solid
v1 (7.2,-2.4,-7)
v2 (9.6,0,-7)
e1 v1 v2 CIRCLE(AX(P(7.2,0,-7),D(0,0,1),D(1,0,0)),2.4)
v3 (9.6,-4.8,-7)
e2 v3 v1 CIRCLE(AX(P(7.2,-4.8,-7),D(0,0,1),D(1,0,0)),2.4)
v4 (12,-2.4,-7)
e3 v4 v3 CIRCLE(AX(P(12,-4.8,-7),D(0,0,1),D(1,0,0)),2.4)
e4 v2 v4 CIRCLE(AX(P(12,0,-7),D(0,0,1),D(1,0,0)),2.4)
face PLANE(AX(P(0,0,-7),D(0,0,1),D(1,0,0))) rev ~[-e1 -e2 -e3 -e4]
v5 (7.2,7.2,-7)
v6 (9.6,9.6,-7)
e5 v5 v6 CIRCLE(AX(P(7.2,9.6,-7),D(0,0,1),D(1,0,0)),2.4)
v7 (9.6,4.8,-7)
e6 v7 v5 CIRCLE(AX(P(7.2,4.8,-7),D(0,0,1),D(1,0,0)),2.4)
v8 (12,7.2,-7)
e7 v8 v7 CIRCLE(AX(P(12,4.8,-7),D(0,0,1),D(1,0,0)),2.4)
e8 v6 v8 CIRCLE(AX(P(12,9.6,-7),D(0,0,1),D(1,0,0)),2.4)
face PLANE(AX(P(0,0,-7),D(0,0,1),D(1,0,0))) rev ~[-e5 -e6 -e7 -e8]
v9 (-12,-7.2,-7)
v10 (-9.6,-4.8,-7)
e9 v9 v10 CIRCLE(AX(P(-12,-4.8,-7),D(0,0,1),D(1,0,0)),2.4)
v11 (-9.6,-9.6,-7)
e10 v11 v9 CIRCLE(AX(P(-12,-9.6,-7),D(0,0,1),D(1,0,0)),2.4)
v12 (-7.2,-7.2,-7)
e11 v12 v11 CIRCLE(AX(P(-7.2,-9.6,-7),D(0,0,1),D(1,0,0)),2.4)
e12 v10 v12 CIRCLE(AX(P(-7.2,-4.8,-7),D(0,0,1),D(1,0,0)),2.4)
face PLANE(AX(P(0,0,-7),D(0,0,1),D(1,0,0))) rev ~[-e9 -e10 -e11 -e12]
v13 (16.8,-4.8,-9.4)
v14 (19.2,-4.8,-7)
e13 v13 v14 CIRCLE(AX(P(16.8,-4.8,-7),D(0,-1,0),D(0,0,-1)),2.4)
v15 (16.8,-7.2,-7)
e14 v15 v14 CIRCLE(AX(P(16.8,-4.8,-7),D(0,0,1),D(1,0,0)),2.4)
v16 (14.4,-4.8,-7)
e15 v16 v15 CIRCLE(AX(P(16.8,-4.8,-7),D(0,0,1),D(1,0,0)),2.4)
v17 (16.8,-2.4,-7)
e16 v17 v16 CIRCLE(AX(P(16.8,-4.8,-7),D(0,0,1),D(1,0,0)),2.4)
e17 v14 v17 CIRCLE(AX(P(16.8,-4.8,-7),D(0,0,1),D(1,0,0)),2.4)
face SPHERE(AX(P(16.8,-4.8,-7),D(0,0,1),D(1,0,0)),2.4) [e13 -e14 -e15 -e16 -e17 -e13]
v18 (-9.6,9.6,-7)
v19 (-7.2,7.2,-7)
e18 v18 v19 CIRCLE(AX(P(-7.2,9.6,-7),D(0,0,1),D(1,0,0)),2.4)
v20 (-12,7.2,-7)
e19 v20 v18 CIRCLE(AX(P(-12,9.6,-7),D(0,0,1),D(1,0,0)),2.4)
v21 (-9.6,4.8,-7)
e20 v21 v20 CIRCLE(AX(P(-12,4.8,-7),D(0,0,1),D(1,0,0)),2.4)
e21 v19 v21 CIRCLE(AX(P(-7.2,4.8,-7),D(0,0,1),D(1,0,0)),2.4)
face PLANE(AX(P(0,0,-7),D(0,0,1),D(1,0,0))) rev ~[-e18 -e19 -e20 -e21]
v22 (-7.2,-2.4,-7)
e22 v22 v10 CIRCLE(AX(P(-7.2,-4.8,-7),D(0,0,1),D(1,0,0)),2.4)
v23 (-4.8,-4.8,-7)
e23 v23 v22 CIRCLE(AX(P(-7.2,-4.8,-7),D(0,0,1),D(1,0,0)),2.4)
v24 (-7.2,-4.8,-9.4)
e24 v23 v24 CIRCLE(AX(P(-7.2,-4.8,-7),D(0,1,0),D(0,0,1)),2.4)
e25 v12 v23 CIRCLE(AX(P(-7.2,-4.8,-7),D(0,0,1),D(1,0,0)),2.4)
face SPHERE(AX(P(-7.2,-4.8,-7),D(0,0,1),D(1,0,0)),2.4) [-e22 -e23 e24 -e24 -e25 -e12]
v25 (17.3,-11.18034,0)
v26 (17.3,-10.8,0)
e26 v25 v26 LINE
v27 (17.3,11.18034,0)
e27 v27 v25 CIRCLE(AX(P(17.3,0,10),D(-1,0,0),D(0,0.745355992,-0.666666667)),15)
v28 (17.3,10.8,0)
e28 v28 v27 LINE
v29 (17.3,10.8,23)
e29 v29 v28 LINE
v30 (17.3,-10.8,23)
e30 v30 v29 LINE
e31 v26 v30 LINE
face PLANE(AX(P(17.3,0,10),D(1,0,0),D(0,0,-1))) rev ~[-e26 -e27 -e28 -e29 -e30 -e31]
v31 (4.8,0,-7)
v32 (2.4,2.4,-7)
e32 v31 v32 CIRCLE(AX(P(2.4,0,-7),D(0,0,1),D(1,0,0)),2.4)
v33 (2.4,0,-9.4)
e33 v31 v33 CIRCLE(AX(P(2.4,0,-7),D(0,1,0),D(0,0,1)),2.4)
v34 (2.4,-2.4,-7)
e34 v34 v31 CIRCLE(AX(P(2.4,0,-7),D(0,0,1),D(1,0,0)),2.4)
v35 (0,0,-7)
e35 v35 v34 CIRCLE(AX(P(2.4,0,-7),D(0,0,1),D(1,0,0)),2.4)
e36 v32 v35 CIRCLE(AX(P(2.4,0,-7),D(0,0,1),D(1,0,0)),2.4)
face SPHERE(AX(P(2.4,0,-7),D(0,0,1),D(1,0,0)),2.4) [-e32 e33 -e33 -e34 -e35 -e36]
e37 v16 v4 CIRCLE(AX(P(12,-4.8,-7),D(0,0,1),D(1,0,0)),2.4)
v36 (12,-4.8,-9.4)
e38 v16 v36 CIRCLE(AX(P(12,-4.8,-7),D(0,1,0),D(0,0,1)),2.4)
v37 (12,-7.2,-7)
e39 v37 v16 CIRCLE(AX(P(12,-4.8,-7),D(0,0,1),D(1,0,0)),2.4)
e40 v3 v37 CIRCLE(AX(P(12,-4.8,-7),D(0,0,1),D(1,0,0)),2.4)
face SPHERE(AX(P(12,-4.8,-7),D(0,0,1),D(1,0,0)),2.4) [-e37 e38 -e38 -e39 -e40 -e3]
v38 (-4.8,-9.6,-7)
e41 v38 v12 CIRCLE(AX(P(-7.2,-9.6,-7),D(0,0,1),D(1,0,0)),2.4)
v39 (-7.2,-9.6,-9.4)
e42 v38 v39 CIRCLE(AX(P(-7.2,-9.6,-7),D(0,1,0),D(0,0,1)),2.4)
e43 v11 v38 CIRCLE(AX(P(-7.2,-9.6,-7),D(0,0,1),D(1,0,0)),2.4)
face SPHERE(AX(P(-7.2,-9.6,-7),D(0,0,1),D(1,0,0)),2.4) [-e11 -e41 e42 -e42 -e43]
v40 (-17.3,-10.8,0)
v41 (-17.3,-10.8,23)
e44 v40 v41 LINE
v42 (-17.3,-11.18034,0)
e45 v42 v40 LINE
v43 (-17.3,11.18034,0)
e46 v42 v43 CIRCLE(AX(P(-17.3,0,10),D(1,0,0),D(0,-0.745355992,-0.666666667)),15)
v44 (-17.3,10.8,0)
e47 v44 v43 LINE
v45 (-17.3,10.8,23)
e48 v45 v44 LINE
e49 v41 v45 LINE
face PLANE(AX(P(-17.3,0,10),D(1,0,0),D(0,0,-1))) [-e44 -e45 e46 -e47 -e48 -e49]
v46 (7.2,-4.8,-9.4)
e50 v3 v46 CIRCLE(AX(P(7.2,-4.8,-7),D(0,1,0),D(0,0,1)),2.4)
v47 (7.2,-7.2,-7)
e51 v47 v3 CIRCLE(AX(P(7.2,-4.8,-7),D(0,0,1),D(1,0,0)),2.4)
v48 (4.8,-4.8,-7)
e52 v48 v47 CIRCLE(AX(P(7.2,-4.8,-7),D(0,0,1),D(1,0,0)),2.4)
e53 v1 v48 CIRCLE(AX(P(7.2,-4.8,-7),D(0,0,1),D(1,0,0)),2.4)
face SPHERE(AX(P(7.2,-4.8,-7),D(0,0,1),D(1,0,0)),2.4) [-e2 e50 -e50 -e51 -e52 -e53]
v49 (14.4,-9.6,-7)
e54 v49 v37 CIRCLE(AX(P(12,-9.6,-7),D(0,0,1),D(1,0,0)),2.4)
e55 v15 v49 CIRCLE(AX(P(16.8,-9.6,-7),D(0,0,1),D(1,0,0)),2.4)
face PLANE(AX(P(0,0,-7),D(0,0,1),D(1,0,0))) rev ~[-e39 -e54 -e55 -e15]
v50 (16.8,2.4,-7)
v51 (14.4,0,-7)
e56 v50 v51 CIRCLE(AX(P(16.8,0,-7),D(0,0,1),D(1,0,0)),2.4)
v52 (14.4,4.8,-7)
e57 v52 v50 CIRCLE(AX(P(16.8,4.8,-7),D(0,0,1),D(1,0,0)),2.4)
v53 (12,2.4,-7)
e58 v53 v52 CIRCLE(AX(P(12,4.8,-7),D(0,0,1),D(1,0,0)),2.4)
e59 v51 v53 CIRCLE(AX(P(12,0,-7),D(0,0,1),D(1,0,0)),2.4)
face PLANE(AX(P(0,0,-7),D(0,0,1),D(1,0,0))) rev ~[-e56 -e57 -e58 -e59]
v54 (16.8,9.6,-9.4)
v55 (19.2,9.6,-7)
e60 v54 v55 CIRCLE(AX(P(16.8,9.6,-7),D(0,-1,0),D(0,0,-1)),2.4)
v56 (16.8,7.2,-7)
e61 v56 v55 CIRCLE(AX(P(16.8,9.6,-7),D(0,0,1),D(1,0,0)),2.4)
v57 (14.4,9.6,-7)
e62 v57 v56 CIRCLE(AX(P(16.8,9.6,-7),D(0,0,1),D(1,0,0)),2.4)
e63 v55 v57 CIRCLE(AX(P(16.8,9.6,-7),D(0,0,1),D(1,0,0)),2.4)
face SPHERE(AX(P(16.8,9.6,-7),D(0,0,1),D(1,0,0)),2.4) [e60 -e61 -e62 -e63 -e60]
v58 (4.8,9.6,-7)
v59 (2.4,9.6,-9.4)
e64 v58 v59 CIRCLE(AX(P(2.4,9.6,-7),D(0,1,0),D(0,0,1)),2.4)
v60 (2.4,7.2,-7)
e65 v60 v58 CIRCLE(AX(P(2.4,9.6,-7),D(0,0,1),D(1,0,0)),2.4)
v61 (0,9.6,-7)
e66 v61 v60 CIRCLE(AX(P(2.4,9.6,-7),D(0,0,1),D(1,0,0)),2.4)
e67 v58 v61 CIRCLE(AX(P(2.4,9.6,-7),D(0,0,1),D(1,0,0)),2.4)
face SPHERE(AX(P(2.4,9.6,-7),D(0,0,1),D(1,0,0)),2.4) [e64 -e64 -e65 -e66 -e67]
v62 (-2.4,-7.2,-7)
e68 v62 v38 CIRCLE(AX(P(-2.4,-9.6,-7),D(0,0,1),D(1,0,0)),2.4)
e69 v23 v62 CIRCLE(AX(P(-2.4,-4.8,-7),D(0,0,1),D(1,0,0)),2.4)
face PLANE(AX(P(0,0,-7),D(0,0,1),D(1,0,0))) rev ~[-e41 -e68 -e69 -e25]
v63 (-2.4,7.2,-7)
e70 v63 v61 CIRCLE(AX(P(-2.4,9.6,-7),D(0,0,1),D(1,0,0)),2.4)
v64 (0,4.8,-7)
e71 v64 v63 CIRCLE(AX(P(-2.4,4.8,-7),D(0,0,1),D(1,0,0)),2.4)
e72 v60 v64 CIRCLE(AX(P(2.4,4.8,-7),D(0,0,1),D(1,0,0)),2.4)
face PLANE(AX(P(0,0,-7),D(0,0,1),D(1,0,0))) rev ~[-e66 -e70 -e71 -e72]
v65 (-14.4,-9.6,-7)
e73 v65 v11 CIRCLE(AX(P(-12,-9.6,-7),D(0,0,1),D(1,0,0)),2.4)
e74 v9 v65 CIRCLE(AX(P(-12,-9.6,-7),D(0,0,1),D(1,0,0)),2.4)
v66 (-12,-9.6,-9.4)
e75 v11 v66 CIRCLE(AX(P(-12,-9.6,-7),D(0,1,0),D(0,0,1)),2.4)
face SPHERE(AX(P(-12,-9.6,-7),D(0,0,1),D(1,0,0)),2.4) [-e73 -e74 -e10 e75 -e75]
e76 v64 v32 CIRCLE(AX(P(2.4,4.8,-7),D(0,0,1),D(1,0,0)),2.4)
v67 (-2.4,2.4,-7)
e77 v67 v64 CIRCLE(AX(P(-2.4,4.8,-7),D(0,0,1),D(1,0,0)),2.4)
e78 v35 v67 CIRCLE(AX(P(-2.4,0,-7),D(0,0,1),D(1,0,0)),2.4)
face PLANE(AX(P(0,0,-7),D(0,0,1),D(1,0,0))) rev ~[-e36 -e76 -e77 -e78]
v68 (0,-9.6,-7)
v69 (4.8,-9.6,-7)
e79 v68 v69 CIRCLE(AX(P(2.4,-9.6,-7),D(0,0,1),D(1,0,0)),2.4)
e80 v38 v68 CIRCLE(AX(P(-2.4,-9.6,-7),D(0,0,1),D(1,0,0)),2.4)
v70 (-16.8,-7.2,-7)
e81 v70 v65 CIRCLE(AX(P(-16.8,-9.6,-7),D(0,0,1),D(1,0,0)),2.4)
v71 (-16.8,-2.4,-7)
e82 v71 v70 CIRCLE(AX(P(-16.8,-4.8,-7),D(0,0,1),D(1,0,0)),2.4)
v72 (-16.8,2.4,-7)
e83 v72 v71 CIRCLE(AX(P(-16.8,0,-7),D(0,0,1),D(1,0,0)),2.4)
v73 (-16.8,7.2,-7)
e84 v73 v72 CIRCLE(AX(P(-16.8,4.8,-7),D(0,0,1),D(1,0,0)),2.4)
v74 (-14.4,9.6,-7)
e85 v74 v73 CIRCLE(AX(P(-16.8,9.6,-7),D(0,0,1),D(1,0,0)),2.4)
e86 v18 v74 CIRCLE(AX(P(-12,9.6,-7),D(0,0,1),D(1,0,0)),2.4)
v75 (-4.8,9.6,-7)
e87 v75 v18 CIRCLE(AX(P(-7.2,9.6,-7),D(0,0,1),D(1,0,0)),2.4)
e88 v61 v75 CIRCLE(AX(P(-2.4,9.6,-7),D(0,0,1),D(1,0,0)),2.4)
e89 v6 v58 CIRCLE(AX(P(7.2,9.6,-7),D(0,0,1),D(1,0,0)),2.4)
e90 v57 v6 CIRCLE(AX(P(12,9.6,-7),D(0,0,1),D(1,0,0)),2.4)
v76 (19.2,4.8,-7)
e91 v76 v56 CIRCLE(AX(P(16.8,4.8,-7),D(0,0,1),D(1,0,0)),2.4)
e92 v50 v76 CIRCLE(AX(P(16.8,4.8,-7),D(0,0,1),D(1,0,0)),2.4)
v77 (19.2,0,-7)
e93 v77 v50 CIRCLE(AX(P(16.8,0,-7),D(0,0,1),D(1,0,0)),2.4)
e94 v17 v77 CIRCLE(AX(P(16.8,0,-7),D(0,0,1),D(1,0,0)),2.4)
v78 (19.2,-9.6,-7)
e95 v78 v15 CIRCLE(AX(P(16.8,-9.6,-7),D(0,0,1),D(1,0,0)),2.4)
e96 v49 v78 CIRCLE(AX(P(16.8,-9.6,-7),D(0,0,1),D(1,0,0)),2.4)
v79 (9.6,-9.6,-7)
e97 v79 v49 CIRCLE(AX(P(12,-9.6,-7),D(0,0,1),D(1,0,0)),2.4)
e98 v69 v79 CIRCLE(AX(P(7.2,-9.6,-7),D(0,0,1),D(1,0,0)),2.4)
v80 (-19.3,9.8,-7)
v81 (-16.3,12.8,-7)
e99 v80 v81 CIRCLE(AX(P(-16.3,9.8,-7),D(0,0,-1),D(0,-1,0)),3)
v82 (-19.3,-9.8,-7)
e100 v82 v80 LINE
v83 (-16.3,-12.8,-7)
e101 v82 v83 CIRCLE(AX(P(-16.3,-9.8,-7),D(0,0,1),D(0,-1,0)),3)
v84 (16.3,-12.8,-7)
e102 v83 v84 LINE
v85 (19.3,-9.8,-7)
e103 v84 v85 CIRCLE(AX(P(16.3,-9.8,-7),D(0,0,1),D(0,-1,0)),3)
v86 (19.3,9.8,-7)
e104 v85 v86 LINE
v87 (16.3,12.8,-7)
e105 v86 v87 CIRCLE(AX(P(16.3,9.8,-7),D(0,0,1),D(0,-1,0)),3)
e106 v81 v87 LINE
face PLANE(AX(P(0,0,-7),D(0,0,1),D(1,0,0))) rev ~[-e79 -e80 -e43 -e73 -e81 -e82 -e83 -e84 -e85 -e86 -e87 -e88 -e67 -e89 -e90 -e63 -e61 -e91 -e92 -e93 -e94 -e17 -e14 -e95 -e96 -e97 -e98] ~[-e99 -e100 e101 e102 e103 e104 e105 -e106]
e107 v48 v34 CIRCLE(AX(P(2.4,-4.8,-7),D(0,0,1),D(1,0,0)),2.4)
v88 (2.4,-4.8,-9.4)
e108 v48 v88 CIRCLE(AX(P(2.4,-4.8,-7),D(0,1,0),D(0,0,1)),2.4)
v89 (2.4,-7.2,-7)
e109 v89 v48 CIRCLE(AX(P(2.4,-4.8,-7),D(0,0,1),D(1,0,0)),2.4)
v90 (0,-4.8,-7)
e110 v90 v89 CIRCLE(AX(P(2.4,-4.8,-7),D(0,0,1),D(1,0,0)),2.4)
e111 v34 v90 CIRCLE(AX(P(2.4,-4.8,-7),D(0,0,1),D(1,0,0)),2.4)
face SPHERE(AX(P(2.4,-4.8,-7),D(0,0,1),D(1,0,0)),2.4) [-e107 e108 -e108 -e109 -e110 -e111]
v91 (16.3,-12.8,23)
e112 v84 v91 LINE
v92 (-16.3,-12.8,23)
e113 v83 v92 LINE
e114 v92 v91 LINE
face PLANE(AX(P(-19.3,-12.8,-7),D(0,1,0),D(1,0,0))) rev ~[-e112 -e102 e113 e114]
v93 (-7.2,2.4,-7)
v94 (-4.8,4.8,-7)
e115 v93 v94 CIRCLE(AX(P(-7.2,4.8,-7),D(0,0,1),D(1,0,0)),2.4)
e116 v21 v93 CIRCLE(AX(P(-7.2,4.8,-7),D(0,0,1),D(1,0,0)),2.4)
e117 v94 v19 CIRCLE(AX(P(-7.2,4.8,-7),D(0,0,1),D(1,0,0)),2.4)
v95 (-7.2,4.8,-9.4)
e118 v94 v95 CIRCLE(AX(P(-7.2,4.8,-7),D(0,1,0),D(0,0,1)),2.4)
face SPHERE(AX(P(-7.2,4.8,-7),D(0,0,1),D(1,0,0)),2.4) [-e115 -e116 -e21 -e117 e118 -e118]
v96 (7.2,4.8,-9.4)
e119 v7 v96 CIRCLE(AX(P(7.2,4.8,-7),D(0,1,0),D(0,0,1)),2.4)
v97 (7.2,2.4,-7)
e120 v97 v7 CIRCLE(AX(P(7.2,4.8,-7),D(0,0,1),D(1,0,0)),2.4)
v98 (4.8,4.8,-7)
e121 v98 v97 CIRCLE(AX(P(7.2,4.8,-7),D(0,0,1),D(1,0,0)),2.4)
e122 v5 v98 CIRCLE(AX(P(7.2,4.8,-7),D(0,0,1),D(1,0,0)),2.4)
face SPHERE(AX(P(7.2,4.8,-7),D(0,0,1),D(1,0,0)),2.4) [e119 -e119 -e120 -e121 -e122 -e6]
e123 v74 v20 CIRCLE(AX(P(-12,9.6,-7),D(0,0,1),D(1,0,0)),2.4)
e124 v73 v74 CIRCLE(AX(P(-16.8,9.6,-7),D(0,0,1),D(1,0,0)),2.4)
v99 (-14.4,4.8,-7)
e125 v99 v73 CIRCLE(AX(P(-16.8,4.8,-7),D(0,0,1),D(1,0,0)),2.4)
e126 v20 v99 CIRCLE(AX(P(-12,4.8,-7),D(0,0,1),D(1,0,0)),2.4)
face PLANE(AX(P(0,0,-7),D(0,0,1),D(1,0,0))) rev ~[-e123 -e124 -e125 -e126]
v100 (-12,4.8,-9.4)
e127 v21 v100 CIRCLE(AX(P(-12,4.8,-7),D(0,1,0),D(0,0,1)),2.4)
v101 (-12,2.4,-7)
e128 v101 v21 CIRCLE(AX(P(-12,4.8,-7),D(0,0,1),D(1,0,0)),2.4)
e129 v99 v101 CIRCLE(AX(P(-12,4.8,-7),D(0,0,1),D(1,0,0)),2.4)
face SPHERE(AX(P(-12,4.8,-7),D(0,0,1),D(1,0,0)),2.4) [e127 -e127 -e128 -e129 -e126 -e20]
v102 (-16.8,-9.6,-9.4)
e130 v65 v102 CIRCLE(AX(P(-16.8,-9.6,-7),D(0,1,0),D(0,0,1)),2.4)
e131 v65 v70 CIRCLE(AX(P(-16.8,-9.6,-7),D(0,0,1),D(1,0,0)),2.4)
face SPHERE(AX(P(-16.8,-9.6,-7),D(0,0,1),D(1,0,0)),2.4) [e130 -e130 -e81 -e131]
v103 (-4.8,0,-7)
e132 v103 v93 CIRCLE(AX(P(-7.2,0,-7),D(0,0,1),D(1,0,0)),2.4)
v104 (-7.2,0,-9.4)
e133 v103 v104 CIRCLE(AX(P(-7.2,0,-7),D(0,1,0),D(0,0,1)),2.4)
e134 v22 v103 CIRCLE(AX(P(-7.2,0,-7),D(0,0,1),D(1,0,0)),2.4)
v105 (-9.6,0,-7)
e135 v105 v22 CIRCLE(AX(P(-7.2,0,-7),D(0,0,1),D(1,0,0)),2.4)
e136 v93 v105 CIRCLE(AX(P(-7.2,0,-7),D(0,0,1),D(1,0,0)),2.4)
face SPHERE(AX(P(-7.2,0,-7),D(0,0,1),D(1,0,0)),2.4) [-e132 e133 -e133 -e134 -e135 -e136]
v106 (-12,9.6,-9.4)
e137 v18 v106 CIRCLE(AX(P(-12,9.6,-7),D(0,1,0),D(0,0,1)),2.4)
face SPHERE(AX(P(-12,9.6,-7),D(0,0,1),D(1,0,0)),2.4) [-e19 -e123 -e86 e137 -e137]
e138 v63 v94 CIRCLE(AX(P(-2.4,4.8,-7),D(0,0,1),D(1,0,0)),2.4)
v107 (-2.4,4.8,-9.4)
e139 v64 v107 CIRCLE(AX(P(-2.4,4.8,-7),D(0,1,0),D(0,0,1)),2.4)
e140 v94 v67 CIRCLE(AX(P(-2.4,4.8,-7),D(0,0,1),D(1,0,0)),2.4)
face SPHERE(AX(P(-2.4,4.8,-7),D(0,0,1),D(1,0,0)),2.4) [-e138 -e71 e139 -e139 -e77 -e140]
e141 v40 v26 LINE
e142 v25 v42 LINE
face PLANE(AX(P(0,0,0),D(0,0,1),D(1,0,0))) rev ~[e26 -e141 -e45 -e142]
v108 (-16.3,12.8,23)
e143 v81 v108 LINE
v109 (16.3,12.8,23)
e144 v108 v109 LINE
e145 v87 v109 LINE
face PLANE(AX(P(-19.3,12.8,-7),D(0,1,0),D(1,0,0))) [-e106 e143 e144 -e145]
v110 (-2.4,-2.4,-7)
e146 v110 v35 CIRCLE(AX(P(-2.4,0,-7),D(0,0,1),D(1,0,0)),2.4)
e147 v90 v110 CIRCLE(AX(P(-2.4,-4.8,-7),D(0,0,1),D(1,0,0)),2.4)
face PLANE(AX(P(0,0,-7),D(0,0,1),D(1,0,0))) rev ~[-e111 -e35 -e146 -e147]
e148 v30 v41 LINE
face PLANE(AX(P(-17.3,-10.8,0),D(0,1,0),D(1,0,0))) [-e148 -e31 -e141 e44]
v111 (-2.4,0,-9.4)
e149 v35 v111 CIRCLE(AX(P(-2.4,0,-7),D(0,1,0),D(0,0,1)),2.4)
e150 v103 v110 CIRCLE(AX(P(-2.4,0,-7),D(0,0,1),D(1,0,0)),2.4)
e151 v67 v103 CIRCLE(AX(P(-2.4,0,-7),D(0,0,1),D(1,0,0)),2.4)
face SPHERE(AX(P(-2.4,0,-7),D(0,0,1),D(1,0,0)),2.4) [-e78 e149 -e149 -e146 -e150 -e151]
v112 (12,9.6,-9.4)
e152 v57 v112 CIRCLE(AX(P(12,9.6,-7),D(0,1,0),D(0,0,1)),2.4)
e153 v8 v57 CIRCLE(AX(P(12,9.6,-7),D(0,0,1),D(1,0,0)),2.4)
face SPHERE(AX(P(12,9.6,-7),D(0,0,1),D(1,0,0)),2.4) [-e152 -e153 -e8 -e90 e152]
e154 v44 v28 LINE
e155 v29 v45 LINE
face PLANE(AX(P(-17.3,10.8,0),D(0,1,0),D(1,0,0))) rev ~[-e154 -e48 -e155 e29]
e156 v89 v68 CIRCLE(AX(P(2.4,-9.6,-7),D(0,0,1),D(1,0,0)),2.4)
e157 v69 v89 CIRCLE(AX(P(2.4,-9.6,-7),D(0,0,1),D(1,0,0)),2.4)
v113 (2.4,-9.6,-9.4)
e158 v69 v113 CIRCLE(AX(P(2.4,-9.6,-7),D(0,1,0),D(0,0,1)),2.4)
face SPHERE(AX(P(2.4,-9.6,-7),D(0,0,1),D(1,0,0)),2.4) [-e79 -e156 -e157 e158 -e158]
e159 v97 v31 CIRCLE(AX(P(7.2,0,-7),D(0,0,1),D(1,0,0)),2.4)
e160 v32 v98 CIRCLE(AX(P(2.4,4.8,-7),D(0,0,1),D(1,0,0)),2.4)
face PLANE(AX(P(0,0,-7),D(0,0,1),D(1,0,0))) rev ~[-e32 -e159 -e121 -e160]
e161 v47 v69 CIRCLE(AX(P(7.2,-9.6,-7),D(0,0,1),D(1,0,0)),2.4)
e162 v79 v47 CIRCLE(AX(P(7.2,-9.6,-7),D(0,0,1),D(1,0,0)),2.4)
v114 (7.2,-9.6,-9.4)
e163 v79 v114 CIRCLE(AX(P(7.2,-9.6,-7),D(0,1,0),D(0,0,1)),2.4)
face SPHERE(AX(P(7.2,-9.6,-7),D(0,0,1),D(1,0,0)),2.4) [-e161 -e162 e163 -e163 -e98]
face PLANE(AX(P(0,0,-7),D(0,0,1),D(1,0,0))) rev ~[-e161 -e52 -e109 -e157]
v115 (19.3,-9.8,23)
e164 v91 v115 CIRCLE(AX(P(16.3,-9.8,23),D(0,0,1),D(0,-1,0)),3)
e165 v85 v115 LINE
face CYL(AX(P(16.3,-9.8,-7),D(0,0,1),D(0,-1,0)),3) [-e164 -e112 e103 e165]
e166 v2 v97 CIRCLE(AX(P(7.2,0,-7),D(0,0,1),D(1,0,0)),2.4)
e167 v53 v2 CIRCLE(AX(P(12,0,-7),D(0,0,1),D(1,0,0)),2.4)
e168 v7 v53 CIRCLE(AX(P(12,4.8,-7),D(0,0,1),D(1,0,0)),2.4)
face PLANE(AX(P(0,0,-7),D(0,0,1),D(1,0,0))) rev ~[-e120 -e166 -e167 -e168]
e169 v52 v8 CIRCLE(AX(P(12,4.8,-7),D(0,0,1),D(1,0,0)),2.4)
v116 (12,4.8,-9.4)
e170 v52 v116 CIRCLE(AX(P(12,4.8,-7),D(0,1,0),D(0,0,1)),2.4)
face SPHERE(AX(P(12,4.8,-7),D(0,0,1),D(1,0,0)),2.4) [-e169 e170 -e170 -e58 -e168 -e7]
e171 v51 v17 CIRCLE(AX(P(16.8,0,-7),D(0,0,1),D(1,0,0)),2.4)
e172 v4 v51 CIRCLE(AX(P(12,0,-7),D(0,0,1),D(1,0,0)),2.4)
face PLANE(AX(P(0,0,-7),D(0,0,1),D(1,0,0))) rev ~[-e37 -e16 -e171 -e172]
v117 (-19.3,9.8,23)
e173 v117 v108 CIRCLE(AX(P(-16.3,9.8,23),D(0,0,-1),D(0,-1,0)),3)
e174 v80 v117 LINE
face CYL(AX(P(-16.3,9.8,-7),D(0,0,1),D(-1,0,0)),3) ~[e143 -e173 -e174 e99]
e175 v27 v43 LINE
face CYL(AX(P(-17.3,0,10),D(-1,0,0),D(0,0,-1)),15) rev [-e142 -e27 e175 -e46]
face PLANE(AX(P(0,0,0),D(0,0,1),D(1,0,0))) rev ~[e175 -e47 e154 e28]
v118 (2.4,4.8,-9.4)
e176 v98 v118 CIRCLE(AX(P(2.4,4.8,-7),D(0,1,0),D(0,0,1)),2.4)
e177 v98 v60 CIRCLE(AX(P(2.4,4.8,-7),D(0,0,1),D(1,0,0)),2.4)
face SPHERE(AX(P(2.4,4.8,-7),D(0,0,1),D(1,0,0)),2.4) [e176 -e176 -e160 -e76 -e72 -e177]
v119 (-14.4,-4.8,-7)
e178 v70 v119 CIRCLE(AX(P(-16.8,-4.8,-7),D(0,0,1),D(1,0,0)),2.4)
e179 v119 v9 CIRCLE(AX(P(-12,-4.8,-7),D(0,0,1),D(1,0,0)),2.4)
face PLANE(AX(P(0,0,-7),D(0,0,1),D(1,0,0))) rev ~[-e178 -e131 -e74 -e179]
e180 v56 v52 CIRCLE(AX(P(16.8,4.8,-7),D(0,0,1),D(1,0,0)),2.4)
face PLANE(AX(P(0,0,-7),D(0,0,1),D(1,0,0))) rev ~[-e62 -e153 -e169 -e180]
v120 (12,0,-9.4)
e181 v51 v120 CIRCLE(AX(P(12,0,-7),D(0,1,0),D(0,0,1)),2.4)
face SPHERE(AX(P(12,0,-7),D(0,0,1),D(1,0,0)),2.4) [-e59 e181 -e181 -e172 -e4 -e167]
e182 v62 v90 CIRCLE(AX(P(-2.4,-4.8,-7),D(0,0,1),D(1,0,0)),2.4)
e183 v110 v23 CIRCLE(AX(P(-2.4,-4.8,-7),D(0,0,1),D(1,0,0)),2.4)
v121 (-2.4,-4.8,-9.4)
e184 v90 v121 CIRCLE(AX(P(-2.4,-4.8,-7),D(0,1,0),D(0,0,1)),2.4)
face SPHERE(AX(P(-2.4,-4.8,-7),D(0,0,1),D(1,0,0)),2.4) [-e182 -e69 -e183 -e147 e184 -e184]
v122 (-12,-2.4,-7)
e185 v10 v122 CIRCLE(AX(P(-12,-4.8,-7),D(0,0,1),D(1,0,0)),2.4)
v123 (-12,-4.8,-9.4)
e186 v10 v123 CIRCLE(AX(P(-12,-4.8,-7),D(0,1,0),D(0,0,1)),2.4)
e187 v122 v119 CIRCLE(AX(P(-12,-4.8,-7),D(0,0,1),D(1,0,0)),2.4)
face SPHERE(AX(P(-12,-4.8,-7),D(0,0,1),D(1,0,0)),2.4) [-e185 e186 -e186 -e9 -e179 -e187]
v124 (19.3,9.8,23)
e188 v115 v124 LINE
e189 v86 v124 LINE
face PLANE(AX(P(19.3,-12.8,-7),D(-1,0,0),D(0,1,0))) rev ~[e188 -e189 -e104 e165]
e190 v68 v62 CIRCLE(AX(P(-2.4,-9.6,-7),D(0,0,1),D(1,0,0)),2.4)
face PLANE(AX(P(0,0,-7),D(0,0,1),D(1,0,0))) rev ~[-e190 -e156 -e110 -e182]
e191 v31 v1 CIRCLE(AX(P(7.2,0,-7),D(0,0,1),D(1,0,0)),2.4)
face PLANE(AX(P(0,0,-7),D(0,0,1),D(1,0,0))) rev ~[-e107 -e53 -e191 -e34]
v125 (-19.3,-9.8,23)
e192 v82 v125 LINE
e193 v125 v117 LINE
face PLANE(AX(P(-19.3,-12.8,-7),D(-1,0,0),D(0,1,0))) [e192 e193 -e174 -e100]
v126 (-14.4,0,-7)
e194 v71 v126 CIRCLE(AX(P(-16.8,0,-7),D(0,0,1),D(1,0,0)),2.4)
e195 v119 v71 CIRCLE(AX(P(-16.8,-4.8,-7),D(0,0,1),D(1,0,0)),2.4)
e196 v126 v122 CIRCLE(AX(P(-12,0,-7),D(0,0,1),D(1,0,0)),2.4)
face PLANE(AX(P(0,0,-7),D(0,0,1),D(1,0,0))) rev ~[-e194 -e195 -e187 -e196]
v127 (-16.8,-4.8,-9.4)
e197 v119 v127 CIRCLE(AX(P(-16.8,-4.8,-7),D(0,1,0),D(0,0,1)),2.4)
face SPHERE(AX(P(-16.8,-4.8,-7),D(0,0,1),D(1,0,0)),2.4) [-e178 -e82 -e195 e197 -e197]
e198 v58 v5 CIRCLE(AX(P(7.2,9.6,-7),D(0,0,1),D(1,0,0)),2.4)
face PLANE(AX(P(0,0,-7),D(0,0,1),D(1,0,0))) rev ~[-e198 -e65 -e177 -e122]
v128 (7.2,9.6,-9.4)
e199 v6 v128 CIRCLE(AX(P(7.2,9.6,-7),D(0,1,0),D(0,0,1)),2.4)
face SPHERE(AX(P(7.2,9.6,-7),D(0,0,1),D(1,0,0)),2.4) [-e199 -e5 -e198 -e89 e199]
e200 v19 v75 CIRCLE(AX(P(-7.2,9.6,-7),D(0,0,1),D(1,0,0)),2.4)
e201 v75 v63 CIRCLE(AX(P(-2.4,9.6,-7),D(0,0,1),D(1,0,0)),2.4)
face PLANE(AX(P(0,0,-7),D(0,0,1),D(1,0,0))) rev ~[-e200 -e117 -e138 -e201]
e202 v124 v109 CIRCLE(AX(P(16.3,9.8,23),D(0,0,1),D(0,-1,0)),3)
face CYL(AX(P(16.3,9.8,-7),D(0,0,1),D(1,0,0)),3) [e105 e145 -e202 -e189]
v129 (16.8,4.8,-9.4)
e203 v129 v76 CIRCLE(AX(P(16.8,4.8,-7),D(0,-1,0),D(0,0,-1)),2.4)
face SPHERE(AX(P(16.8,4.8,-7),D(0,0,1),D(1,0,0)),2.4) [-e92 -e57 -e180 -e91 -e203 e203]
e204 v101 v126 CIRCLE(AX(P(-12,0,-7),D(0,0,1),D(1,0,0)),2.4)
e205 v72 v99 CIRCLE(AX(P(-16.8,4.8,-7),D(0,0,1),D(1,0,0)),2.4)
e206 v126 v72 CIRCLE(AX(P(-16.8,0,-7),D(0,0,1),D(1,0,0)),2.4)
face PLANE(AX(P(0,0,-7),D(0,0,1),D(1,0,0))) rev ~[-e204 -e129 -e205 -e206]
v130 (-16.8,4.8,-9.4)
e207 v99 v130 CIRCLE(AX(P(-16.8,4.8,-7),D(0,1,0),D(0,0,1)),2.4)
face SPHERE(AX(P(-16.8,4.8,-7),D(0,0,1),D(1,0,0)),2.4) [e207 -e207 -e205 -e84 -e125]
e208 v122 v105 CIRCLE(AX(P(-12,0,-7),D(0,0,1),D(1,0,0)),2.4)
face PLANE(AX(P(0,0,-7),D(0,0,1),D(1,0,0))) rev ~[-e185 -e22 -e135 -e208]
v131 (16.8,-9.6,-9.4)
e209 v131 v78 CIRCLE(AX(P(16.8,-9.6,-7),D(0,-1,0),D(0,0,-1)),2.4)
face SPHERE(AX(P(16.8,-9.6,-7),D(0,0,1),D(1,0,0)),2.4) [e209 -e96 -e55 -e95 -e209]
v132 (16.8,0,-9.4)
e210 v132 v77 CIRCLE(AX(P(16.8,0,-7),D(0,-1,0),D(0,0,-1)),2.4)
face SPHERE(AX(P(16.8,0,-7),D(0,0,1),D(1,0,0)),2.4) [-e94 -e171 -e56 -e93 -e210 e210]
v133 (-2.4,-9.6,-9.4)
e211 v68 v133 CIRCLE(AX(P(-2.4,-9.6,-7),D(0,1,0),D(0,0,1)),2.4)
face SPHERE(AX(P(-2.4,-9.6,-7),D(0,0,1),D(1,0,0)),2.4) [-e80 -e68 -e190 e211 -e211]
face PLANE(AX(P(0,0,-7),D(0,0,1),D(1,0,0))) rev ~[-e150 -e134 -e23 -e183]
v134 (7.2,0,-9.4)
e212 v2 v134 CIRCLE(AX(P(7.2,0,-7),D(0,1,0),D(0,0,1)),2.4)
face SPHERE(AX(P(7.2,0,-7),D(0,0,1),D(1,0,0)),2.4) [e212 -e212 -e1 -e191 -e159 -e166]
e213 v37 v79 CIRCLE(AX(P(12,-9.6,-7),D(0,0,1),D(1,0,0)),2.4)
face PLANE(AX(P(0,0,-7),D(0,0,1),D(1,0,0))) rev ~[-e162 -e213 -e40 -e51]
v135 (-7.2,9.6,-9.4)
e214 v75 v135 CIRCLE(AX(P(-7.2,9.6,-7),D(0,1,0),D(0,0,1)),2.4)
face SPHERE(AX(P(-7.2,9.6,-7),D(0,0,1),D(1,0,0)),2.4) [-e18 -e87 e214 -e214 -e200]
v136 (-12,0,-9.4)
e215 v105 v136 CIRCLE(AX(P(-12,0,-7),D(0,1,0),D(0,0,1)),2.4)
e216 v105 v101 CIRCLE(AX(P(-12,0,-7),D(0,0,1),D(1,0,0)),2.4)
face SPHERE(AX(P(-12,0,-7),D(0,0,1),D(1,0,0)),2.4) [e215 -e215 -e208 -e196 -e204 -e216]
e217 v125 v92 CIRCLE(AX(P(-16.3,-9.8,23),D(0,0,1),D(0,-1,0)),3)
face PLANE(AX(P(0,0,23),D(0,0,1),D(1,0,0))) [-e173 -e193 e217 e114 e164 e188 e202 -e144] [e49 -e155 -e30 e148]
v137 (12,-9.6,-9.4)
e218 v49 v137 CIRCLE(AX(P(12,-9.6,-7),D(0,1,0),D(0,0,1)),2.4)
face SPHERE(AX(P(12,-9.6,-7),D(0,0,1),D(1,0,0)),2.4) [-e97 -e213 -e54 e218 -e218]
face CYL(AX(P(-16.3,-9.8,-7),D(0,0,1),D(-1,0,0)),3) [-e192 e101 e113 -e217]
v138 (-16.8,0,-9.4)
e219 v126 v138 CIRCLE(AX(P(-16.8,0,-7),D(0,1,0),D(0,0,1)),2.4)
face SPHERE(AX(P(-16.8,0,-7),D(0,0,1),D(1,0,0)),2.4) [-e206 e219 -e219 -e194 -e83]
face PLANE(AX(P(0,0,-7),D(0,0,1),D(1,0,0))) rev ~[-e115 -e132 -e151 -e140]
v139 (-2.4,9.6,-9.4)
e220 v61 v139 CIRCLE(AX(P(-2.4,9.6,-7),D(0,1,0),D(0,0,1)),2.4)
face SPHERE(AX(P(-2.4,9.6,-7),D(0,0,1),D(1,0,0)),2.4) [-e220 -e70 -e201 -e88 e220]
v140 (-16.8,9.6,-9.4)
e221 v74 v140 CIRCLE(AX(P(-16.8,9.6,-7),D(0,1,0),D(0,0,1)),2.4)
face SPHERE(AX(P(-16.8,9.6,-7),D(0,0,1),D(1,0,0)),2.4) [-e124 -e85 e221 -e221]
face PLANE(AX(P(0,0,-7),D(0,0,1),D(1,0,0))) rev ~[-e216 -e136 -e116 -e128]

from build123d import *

# Parameters (mm, degrees)
BOX_W             = 34.6
BOX_H             = 21.6
BOX_DEPTH         = 100
BOX002_W          = 34.6
BOX002_H          = 71.6
BOX002_DEPTH      = 100
CYLINDER002_R     = 15
CYLINDER002_DEPTH = 34.6
BOX001_W          = 38.6
BOX001_H          = 25.6
BOX001_DEPTH      = 30
FILLET001_R       = 3
ARRAY002_X_COUNT  = 8
ARRAY002_X_PITCH  = 4.8
ARRAY002_Y_COUNT  = 5
ARRAY002_Y_PITCH  = 4.8


with BuildPart() as internal_cube:
    # Box → Box (new body)
    with BuildSketch(Plane(origin=(-17.3, -10.8, 0), x_dir=(1, 0, 0), z_dir=(0, 0, 1))):
        with Locations((17.3, 10.8)):
            Rectangle(BOX_W, BOX_H)
    extrude(amount=BOX_DEPTH)


with BuildPart() as cylinder_cut:
    # Box002 → Box002 (new body)
    with BuildSketch(Plane(origin=(-17.3, -35.8, 0), x_dir=(1, 0, 0), z_dir=(0, 0, 1))):
        with Locations((17.3, 35.8)):
            Rectangle(BOX002_W, BOX002_H)
    extrude(amount=BOX002_DEPTH)

    # Cut002: cut internal cube
    add(internal_cube.part, mode=Mode.SUBTRACT)


with BuildPart() as extract_fusion:
    # Cylinder002 → Cylinder002 (new body)
    with BuildSketch(Plane(origin=(-17.3, 0, 10), x_dir=(0, 0, -1), z_dir=(1, 0, 0))):
        Circle(CYLINDER002_R)
    extrude(amount=CYLINDER002_DEPTH)

    # Cut003: cut cylinder cut
    add(cylinder_cut.part, mode=Mode.SUBTRACT)

    # Fusion002: union internal cube
    add(internal_cube.part)


with BuildPart() as external_fillet:
    # Box001 → Box001 (new body)
    with BuildSketch(Plane(origin=(-19.3, -12.8, -7), x_dir=(1, 0, 0), z_dir=(0, 0, 1))):
        with Locations((19.3, 12.8)):
            Rectangle(BOX001_W, BOX001_H)
    extrude(amount=BOX001_DEPTH)

    # Fillet001
    fillet001_edges = [external_fillet.edges().sort_by_distance(p)[0] for p in [
        (-19.3, -12.8, 8),
        (-19.3, 12.8, 8),
        (19.3, -12.8, 8),
        (19.3, 12.8, 8),
    ]]
    fillet(fillet001_edges, radius=FILLET001_R)


with BuildPart() as rectangular_leg_pad_cut:
    # Sphere002 → Sphere002 (revolve)
    with BuildSketch(Plane.XZ):
        with BuildLine():
            ThreePointArc((0, -2.4), (2.4, 0), (0, 2.4))
            Line((0, 2.4), (0, -2.4))
        make_face()
    revolve(axis=Axis((0, 0, 0), (0, 0, 1)))

    # Array002 X: rectangular leg pad cut ×8


with BuildPart() as rectangular_leg_pad_cut_1:
    add(rectangular_leg_pad_cut.part)
    with Locations(*[(i * ARRAY002_X_PITCH, 0, 0) for i in range(1, ARRAY002_X_COUNT)]):
        add(rectangular_leg_pad_cut.part)

    # Array002 Y: rectangular leg pad cut ×5


with BuildPart() as rectangular_leg_pad_cut_2:
    add(rectangular_leg_pad_cut_1.part)
    with Locations(*[(0, i * ARRAY002_Y_PITCH, 0) for i in range(1, ARRAY002_Y_COUNT)]):
        add(rectangular_leg_pad_cut_1.part)


with BuildPart() as rectangular_leg_pad_cut_3:
    # Array002 placement: moved
    add(rectangular_leg_pad_cut_2.part.moved(Location((-16.8, -9.6, -7))))

    # Fusion003: union external fillet
    add(external_fillet.part)

    # Cut004: cut extract fusion
    add(extract_fusion.part, mode=Mode.SUBTRACT)


solid = rectangular_leg_pad_cut_3.part
